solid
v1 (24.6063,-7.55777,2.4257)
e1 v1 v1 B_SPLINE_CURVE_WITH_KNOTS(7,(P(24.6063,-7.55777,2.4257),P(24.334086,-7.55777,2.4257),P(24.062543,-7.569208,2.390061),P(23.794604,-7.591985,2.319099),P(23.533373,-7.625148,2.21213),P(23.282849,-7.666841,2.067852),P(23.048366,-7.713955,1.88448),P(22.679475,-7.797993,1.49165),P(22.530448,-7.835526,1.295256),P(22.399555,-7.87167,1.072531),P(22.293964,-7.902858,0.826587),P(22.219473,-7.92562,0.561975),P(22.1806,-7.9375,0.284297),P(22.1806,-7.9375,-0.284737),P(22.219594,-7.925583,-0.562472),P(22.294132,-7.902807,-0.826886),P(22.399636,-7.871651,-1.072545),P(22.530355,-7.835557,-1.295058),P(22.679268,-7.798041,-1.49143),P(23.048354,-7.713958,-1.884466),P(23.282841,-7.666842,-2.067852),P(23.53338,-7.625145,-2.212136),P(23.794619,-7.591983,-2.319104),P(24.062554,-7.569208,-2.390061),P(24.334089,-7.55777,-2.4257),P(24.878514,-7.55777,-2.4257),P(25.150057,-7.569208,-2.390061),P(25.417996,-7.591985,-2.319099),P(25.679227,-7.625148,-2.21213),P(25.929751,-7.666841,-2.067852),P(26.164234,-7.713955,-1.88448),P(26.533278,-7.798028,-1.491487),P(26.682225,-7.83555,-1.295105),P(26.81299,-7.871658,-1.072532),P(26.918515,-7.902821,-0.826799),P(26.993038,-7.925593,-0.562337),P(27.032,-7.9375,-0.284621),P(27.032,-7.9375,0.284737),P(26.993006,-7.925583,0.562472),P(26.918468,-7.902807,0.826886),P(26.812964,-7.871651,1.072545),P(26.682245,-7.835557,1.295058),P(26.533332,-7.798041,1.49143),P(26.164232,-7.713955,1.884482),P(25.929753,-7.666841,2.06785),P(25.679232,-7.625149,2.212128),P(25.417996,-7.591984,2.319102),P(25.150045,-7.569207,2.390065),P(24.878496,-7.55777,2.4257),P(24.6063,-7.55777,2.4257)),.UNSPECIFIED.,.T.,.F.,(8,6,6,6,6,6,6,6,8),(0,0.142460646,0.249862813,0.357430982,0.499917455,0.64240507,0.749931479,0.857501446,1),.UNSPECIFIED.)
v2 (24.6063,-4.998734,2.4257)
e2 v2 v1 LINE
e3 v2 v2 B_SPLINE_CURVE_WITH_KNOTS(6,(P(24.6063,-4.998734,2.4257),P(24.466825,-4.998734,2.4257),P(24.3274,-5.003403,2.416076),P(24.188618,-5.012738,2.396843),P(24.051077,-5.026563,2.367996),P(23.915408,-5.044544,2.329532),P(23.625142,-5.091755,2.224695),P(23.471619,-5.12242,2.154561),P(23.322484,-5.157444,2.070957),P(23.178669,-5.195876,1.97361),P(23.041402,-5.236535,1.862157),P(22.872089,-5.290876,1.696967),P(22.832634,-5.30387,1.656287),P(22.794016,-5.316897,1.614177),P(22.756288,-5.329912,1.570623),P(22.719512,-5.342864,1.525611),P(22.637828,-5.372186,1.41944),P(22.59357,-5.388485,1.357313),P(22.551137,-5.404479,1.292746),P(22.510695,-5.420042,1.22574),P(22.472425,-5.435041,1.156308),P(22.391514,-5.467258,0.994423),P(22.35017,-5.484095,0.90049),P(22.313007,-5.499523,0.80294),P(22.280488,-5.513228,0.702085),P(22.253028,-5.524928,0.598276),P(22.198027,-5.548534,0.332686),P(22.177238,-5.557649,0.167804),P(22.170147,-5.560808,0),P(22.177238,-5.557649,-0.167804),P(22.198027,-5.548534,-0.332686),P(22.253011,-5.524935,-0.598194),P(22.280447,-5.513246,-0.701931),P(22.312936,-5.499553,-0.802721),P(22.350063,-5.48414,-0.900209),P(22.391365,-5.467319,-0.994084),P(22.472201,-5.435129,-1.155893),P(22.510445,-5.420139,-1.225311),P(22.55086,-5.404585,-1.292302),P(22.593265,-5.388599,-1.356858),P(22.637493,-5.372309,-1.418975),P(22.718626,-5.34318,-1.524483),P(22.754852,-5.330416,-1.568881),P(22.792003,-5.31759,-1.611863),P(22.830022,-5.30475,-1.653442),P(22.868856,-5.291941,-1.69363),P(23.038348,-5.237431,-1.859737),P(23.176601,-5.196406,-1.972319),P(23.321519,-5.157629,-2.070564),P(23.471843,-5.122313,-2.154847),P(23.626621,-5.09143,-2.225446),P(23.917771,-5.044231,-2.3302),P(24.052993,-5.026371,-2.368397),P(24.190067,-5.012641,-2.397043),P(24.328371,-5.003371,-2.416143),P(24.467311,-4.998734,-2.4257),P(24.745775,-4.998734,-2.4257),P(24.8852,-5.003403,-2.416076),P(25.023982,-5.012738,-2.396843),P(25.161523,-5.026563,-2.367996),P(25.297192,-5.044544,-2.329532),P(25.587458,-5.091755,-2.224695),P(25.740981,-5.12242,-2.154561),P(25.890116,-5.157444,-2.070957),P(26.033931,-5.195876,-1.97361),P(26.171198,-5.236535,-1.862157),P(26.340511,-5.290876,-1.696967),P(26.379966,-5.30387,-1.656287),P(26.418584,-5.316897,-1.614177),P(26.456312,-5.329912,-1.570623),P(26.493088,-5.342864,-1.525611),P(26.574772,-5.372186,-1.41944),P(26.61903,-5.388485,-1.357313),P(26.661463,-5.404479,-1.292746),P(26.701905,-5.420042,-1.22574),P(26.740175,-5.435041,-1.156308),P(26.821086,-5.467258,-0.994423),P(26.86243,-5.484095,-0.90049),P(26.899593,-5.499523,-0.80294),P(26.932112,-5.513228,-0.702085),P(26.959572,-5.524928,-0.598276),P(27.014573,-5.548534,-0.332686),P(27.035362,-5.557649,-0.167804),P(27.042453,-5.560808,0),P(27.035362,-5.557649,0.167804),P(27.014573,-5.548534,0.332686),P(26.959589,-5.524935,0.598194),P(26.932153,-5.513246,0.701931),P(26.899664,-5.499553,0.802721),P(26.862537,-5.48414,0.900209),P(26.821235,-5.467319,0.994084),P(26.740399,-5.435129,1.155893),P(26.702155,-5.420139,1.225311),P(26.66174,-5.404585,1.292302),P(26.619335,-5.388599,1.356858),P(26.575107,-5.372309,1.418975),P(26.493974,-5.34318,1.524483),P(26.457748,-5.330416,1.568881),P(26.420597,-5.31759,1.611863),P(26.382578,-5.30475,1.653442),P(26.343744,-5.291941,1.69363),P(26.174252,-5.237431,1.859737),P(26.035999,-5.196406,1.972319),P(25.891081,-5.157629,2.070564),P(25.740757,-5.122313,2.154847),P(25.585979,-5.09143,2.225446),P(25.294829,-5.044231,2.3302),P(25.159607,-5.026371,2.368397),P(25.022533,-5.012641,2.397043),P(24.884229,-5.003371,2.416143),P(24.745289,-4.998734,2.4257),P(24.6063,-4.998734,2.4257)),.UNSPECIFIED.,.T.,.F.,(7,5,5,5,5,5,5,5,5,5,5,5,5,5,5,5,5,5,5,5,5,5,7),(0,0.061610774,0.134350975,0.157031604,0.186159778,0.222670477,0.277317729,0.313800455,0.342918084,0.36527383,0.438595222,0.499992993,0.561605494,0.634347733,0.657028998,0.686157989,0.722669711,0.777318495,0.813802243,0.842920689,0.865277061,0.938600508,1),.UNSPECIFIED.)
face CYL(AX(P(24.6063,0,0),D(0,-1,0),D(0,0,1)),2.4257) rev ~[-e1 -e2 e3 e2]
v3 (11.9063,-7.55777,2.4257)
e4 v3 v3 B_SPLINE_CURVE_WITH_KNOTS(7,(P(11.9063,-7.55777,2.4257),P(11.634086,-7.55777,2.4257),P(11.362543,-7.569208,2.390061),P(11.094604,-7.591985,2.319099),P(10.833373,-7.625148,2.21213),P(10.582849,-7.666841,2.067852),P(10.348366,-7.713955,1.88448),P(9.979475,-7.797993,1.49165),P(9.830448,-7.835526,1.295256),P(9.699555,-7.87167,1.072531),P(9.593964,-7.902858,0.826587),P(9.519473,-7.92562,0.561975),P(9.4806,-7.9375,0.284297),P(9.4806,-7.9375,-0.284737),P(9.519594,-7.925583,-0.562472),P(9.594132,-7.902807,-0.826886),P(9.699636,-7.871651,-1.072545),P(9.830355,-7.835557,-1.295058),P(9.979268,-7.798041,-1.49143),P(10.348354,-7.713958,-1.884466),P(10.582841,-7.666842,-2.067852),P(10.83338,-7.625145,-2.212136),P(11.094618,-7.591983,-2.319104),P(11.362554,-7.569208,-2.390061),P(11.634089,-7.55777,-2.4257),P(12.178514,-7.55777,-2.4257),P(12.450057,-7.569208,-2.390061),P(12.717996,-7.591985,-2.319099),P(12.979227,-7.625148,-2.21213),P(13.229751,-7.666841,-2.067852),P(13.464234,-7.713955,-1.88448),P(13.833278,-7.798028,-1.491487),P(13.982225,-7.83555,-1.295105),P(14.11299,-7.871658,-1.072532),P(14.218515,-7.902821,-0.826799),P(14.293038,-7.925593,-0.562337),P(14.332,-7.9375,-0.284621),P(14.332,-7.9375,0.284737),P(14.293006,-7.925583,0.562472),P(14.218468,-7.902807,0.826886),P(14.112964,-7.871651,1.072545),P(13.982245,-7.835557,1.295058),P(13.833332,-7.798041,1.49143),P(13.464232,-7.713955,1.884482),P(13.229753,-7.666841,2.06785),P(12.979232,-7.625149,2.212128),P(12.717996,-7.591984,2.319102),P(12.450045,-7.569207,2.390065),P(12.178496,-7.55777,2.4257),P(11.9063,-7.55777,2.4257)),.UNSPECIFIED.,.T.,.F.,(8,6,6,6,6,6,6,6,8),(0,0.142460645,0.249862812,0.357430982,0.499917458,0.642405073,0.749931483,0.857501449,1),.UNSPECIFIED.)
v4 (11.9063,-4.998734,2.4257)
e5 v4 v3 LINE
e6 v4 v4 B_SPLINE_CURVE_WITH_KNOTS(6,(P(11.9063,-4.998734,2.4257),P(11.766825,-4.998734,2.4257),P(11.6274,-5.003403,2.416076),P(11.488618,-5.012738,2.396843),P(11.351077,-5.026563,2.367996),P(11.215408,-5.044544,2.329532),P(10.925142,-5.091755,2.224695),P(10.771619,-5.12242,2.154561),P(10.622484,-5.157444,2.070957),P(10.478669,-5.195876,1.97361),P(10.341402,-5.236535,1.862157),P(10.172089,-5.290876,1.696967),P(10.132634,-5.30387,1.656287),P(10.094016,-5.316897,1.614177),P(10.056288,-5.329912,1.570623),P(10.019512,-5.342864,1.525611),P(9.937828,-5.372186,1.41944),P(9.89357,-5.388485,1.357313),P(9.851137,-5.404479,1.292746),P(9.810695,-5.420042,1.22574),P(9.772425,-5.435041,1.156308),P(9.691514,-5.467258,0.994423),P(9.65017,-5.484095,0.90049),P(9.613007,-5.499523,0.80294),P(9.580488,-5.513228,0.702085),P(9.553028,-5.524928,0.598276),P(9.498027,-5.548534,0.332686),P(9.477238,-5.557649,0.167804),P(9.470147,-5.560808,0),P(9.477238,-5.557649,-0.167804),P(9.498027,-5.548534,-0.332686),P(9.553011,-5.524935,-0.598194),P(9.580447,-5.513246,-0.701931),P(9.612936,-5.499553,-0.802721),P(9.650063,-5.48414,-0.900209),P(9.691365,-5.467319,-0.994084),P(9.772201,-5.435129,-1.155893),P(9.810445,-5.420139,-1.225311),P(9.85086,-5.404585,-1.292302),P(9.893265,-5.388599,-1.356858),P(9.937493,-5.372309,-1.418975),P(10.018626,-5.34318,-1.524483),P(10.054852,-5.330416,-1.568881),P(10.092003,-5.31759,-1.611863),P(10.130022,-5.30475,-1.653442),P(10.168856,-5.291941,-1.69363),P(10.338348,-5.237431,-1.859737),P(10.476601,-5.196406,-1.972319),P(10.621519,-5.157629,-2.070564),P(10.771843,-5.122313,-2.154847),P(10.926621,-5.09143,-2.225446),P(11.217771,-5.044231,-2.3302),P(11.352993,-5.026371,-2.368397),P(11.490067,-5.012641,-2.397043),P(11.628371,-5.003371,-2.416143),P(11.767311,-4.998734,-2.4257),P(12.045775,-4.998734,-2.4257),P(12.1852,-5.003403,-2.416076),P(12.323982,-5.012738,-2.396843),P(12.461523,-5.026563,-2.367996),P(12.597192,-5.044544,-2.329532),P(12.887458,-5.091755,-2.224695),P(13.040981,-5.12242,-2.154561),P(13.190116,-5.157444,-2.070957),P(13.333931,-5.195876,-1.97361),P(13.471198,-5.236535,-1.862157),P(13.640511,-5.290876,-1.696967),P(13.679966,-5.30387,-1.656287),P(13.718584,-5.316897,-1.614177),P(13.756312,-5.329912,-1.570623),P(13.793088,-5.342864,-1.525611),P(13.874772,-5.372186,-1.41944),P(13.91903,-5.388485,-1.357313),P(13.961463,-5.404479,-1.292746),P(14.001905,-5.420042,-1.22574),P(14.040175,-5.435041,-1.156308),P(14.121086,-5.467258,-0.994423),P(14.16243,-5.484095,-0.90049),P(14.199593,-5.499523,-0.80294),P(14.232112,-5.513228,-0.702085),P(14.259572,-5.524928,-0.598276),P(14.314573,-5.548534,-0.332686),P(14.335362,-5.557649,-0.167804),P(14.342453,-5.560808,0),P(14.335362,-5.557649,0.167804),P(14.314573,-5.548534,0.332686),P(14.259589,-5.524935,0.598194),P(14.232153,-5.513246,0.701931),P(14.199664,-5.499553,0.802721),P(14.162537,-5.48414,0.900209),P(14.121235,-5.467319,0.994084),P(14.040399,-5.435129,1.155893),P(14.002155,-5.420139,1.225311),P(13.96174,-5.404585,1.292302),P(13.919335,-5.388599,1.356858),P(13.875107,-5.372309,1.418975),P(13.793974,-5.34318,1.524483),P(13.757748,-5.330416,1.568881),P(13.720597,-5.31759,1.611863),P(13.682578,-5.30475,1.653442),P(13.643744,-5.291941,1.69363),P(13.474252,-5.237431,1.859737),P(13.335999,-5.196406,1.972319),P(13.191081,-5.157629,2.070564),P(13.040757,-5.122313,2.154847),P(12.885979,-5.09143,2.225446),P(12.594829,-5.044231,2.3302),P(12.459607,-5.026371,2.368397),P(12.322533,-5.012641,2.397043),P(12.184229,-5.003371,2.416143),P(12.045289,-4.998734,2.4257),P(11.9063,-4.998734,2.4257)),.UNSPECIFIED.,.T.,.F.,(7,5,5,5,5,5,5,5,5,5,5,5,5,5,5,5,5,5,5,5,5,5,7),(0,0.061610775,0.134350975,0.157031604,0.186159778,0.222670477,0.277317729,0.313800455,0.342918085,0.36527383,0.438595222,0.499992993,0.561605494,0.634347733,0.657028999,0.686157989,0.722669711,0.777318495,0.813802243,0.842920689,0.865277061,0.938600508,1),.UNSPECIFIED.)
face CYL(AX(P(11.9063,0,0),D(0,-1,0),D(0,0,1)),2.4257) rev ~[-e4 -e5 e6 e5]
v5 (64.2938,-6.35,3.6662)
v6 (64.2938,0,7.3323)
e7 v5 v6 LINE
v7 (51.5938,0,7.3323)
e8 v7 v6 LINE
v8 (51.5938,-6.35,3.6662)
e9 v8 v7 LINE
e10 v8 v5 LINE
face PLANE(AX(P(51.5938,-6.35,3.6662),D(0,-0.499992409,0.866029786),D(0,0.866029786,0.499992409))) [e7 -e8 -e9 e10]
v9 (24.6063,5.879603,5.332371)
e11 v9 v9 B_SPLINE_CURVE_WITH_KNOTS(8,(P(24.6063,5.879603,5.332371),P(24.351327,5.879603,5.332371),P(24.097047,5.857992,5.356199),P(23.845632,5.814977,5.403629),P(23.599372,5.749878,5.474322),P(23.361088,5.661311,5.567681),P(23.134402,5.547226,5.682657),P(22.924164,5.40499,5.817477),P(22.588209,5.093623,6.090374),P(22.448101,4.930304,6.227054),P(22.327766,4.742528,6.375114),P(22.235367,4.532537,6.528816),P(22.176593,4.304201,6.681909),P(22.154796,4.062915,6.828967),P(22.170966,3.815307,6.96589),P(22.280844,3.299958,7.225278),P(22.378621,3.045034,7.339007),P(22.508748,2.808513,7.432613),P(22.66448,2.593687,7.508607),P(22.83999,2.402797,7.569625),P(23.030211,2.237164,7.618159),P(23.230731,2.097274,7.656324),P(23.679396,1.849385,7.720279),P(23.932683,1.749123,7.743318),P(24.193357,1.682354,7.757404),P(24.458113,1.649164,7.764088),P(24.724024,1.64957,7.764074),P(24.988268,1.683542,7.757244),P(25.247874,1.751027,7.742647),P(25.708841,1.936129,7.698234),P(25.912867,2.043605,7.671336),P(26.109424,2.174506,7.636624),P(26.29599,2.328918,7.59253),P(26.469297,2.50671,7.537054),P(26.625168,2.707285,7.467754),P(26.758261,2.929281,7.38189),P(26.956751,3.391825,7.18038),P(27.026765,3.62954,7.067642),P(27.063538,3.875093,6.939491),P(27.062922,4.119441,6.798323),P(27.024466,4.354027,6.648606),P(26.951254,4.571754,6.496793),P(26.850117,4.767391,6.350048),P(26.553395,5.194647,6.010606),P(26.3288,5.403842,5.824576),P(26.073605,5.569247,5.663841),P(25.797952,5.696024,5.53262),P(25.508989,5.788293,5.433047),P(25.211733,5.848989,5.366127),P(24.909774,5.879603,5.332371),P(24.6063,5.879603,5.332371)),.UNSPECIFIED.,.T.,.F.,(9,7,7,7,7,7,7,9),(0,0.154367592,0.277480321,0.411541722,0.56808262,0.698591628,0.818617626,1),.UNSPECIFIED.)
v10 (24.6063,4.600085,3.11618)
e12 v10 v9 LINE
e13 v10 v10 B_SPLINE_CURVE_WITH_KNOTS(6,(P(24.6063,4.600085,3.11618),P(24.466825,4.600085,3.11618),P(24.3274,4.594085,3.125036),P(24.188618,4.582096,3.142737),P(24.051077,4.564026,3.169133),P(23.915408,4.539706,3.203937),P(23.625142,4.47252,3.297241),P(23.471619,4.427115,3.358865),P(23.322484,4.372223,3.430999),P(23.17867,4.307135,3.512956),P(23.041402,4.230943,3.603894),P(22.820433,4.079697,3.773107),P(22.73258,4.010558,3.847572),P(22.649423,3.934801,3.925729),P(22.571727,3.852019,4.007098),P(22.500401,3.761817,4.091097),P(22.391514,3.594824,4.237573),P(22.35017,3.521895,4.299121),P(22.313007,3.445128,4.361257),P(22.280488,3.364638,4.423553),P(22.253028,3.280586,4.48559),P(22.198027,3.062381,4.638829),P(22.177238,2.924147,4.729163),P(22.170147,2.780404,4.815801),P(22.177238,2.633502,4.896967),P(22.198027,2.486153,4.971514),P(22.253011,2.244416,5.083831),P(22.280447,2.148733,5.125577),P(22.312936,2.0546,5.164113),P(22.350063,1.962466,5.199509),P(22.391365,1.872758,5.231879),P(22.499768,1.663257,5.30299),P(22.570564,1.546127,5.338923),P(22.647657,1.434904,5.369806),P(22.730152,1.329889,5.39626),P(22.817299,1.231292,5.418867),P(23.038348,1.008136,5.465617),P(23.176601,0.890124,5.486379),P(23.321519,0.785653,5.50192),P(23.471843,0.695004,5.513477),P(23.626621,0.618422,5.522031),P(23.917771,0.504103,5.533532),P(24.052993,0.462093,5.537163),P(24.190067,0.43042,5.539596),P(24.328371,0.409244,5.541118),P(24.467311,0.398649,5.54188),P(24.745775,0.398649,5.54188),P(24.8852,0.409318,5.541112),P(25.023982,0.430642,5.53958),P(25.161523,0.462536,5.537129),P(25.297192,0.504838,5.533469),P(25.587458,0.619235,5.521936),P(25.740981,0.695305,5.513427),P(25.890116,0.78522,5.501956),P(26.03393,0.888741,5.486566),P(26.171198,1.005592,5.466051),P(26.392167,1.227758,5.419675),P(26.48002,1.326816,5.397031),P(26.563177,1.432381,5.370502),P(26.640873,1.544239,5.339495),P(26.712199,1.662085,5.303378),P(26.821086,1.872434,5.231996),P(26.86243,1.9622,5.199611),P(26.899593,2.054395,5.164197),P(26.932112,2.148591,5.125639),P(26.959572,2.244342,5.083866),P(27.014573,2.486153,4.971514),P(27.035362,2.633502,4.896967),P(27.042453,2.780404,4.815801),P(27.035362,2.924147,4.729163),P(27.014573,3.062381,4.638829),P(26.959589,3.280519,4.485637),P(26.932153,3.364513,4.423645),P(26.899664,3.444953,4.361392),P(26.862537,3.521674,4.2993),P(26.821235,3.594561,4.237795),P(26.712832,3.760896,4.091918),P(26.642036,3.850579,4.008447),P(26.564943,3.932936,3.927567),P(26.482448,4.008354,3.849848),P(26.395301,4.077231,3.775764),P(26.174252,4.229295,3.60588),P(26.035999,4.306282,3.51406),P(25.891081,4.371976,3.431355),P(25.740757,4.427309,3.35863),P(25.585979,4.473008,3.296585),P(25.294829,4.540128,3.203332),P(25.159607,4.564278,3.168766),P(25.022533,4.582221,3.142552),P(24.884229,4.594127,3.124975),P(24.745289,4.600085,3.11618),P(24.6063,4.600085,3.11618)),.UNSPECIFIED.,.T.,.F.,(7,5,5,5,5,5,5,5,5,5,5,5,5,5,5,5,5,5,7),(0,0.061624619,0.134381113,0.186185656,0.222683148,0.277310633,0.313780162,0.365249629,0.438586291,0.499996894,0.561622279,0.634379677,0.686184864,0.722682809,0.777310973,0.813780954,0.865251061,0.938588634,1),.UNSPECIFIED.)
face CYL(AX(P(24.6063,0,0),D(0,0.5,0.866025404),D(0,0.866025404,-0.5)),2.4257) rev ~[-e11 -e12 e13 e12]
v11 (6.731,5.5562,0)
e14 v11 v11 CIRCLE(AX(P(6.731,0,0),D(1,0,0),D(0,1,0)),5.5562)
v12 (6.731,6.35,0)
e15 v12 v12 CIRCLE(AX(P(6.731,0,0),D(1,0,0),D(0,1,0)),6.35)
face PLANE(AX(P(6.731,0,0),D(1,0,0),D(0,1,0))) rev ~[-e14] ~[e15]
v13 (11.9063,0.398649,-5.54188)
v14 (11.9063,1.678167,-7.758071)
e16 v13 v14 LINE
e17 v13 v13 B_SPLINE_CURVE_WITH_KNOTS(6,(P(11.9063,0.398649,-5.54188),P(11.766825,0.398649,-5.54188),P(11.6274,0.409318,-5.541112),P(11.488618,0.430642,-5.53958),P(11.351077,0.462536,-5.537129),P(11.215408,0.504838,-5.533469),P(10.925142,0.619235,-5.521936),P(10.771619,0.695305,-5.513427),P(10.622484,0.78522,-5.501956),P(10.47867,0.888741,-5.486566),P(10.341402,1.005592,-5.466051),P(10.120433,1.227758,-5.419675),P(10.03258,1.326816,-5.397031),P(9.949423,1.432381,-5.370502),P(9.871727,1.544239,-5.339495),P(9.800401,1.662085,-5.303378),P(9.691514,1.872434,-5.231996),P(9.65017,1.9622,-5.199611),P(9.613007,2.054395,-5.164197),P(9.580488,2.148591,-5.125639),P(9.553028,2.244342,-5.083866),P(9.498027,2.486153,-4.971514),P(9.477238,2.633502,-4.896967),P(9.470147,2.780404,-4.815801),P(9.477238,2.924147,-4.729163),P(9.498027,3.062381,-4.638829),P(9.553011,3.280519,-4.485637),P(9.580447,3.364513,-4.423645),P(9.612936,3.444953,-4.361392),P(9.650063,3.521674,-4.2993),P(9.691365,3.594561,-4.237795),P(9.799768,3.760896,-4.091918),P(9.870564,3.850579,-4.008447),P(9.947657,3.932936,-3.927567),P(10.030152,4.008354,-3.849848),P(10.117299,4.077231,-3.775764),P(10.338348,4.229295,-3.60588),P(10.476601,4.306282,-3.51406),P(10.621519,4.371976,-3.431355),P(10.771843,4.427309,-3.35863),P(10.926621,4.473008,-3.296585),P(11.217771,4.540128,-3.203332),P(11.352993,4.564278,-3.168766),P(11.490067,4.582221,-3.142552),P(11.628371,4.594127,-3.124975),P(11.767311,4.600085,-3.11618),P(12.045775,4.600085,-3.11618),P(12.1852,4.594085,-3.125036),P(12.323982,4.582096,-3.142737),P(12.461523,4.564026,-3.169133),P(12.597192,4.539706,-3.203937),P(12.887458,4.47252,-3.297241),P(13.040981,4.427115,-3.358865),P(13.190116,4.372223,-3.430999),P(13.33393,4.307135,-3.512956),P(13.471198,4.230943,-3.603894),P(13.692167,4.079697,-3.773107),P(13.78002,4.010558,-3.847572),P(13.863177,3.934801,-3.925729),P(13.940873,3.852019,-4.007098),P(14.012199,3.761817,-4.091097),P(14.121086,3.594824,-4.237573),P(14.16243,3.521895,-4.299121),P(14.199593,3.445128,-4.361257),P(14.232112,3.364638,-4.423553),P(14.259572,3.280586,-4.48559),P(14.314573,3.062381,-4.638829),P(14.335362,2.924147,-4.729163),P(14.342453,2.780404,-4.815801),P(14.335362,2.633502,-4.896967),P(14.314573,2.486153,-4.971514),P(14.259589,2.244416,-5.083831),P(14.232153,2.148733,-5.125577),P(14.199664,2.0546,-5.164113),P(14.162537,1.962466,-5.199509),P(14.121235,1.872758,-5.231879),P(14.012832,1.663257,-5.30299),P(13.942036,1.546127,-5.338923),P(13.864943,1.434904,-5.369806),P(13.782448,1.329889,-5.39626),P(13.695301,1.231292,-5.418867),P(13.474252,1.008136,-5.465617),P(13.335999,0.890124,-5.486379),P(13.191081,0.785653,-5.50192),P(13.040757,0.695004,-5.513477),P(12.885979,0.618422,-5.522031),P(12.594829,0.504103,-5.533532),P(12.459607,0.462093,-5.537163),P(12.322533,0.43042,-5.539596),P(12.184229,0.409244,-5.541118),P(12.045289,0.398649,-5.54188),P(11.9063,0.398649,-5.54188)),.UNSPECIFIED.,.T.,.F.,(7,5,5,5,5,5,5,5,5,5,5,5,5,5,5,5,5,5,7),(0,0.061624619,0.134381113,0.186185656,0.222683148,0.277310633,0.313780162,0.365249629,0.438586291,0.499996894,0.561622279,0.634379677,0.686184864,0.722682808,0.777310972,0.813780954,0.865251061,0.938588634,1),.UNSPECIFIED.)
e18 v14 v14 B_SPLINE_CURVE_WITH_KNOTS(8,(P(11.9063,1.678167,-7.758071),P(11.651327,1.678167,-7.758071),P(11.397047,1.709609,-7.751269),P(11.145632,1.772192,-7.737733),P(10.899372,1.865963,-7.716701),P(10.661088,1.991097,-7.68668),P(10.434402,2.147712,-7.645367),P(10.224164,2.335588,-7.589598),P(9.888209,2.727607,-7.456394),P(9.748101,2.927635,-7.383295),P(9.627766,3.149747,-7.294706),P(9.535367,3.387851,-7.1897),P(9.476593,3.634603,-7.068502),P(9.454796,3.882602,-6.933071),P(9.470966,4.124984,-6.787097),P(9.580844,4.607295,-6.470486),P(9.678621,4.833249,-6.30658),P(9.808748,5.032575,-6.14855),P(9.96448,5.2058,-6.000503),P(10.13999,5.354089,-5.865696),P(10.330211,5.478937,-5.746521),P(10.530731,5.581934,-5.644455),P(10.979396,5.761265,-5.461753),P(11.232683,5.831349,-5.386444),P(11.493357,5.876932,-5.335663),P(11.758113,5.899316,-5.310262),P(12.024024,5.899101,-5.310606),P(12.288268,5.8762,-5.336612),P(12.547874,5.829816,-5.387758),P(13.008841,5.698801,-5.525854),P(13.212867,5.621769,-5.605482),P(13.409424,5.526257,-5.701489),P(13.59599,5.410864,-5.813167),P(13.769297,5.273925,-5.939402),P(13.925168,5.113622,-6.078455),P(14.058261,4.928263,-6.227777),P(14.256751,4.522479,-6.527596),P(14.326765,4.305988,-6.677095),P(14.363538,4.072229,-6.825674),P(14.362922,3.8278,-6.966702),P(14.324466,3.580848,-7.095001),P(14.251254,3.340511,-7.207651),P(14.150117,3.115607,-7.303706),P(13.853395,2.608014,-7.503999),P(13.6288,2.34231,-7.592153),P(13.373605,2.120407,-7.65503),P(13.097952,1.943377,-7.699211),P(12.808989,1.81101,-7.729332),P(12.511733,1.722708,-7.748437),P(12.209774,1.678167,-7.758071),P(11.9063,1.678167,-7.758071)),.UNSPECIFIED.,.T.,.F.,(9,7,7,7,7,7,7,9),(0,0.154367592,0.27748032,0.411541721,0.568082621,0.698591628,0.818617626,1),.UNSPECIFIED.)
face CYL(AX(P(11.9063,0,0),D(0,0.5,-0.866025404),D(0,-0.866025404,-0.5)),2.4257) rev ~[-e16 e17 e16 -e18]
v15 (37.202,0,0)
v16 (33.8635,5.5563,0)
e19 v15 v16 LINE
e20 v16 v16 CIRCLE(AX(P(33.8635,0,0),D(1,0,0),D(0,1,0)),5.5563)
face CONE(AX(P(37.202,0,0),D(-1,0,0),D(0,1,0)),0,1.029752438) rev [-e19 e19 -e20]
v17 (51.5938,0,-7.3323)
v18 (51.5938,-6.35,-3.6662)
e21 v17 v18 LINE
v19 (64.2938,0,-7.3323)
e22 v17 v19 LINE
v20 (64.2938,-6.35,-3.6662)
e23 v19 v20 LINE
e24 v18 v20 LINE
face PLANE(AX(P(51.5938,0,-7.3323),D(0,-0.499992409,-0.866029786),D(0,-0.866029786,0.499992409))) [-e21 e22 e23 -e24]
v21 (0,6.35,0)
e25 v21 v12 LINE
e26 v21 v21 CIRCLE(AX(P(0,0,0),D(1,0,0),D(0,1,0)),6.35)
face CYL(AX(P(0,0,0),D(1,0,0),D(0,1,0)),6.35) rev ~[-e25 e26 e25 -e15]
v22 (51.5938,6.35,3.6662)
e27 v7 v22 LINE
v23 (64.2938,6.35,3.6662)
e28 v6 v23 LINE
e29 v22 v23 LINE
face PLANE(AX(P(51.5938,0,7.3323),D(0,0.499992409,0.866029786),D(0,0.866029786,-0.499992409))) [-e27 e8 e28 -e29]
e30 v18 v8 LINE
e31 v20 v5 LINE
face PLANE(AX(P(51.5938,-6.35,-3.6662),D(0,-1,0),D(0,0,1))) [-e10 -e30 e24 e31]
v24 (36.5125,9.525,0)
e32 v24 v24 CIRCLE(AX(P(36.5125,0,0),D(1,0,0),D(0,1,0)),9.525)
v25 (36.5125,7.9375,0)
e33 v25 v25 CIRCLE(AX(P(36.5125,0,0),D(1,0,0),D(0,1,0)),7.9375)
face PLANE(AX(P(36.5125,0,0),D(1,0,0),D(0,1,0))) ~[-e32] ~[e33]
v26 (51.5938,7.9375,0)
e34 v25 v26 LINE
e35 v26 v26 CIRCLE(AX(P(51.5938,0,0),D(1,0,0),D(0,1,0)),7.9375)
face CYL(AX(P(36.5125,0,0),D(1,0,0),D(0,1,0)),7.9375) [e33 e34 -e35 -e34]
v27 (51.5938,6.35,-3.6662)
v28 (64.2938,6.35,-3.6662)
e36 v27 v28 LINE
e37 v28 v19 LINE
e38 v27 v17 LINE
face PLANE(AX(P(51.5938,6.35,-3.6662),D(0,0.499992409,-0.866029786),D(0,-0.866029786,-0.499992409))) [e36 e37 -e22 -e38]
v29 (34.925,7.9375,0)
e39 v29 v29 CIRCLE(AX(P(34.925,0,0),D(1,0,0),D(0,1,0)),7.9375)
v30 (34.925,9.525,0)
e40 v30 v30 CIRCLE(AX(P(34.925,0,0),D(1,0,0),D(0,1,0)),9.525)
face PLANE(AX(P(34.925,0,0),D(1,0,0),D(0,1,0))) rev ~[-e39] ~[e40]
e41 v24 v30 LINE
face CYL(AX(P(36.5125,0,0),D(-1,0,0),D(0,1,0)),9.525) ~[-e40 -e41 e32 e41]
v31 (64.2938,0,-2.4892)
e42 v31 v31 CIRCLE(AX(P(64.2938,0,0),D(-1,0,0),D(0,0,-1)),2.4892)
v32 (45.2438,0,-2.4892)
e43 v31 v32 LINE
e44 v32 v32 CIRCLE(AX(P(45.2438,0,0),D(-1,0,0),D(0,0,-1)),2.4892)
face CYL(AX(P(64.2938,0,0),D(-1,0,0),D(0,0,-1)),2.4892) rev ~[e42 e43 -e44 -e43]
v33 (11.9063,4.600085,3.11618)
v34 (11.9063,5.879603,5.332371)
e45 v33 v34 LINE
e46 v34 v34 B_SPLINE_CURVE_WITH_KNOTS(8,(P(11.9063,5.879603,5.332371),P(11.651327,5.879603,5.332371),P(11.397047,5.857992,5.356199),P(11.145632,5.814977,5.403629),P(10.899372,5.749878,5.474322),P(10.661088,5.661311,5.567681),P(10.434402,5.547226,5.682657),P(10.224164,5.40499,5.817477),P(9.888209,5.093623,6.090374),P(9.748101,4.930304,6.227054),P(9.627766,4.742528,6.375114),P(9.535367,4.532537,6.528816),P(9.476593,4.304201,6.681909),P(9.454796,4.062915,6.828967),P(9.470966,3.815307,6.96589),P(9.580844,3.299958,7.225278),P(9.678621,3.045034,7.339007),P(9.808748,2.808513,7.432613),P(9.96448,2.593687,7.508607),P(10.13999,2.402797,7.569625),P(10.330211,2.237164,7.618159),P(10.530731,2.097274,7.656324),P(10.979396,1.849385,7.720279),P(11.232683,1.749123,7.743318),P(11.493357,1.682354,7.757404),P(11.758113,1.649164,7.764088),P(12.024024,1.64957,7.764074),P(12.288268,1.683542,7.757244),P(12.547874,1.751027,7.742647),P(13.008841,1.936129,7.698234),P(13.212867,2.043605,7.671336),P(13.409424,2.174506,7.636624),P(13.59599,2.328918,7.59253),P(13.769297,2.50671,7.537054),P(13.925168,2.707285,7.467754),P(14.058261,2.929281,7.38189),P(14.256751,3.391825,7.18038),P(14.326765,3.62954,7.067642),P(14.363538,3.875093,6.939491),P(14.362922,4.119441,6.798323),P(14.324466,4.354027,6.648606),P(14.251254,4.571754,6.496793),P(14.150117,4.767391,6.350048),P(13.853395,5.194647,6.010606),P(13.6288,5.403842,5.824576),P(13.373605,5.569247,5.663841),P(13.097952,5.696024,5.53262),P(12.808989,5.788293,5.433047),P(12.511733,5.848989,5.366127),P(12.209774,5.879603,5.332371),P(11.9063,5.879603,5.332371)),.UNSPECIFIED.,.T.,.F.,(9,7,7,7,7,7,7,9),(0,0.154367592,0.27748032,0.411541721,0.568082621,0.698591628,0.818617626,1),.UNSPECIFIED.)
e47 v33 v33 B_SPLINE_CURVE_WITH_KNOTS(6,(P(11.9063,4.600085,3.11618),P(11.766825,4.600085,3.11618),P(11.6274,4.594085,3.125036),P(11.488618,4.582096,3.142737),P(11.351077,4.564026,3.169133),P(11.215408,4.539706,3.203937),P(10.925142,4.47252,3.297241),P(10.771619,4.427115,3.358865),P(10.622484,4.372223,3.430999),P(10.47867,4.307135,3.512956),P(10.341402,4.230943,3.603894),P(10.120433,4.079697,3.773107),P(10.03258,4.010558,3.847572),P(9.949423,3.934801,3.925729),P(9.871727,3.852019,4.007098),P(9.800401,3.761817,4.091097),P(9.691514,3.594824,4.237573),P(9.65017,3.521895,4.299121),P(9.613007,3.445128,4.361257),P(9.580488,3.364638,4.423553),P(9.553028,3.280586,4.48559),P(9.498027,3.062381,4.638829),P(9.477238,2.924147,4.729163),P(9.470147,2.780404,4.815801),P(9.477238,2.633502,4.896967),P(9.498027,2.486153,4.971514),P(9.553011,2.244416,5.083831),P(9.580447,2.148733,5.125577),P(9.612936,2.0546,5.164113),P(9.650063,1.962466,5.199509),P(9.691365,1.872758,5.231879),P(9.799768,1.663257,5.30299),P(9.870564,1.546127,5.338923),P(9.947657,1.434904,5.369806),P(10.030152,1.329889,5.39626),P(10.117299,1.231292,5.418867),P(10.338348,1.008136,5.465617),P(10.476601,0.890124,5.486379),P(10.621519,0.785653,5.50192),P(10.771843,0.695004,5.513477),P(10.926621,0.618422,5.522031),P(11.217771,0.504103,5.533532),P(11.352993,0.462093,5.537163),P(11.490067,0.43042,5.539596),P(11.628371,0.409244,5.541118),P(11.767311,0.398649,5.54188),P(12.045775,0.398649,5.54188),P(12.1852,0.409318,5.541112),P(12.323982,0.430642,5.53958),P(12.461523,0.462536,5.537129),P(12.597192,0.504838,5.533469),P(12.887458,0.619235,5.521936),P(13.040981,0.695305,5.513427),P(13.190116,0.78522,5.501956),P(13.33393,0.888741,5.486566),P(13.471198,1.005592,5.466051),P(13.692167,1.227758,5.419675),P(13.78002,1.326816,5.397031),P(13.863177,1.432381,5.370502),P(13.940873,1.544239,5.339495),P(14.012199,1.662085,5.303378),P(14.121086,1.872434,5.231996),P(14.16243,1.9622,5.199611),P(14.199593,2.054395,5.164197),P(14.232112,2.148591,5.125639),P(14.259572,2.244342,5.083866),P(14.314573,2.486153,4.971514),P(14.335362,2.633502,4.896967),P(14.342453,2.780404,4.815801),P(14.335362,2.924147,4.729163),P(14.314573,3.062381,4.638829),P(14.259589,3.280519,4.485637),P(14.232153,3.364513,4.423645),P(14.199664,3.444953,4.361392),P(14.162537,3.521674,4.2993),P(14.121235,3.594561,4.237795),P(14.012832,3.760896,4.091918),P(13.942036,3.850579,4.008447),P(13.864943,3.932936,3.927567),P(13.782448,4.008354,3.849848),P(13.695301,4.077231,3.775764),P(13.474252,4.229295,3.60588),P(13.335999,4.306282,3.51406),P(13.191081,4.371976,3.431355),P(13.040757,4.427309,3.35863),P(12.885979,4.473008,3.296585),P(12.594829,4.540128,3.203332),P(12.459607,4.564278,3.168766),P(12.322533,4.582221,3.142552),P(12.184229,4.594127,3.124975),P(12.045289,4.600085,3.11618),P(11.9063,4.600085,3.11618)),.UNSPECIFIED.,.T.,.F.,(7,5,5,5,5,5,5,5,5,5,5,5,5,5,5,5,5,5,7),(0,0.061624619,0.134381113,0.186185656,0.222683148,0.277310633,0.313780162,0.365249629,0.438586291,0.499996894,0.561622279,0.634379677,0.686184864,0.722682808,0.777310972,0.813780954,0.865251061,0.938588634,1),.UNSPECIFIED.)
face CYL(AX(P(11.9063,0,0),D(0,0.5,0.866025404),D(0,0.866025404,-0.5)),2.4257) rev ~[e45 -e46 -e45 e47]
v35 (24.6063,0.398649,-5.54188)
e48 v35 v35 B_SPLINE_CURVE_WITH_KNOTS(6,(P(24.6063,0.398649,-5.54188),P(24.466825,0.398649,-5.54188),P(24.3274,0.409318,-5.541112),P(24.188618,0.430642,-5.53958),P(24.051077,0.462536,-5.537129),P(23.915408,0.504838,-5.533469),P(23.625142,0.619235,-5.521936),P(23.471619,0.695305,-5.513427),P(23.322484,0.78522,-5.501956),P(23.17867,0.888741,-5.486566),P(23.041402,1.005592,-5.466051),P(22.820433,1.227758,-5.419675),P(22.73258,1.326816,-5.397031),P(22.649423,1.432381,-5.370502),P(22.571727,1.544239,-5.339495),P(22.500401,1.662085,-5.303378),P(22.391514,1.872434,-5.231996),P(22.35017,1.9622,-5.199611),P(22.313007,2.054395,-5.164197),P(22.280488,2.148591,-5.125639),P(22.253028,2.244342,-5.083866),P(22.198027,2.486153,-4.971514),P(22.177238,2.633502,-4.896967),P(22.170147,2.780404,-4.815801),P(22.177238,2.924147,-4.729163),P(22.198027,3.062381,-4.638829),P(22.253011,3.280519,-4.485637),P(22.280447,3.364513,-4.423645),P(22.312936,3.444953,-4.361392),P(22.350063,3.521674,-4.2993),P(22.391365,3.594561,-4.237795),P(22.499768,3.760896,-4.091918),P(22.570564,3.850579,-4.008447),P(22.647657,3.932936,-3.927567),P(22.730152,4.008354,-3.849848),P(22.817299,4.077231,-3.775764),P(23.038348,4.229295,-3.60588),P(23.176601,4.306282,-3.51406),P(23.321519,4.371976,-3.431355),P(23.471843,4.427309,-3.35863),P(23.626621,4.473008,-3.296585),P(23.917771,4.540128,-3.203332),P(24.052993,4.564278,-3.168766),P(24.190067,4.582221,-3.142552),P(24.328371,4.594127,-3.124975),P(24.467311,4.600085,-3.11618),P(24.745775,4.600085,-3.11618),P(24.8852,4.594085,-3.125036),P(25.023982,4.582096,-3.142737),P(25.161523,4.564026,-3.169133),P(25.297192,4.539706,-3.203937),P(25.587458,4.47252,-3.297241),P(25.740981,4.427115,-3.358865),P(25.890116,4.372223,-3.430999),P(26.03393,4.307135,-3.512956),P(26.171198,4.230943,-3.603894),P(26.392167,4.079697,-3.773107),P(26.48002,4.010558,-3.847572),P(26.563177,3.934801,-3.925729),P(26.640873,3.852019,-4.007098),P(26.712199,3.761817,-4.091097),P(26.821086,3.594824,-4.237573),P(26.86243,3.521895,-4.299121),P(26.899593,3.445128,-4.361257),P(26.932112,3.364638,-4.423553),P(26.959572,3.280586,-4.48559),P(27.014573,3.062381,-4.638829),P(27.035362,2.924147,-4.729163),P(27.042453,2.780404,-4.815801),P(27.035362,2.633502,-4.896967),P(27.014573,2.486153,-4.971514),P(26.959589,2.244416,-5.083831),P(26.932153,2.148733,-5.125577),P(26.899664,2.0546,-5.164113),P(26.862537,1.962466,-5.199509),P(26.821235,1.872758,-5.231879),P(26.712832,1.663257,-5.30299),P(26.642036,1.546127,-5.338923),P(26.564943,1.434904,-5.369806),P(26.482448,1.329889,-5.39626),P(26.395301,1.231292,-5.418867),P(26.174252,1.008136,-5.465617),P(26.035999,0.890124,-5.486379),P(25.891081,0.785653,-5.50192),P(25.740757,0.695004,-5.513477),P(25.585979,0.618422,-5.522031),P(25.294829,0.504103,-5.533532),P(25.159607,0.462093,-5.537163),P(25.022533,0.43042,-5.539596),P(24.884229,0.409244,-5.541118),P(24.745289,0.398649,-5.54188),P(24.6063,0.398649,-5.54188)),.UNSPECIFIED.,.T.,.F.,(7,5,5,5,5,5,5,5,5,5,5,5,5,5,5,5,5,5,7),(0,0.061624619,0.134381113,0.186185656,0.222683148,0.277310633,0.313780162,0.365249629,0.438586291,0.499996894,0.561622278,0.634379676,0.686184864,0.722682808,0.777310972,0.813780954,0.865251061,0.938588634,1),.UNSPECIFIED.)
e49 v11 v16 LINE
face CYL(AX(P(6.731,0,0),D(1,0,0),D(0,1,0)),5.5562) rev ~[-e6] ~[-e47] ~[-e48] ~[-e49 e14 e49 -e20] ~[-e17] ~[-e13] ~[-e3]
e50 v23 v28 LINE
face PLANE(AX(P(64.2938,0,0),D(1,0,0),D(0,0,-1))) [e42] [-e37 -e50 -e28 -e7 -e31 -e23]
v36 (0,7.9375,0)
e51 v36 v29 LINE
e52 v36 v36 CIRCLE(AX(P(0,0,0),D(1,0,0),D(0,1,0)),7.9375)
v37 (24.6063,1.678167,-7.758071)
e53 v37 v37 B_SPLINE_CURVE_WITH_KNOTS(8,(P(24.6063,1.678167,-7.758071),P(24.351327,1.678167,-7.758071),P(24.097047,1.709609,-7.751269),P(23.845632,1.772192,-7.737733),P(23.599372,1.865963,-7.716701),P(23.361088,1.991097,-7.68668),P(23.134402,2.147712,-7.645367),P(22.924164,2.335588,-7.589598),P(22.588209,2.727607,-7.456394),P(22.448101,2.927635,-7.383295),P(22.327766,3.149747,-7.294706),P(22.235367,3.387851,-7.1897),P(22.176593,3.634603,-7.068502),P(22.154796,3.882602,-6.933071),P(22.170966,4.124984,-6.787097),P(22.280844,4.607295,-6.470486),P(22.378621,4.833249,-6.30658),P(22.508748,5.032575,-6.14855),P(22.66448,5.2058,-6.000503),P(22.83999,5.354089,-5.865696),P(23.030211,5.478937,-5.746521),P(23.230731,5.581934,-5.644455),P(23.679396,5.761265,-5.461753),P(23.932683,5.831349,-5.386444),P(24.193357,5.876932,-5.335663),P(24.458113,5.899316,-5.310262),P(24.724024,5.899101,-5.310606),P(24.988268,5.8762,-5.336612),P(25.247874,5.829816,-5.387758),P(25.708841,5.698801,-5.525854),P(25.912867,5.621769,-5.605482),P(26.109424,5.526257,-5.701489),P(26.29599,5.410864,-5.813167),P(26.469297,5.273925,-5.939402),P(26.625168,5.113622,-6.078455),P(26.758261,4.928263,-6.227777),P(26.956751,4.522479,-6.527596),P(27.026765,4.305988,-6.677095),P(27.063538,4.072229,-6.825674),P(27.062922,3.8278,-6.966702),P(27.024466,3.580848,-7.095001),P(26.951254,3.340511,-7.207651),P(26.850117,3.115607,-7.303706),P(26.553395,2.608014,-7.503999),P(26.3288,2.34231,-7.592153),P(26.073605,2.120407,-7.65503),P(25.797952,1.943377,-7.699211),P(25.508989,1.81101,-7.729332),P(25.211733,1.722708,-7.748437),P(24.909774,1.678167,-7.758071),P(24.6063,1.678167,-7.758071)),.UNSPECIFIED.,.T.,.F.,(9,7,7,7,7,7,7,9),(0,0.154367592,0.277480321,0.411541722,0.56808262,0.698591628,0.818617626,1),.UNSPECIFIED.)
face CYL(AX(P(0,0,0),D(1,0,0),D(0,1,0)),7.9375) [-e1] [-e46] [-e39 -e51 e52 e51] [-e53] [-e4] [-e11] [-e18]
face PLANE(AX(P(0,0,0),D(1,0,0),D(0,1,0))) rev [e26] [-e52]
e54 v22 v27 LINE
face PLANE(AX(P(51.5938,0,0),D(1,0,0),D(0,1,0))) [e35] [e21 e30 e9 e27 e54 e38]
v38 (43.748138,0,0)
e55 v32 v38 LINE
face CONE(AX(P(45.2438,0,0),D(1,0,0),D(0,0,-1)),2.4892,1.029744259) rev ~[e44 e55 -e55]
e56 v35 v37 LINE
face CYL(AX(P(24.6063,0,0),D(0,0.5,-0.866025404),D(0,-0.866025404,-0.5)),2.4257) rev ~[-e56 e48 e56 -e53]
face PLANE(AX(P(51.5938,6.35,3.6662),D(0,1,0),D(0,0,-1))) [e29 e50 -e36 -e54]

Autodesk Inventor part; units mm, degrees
ref_plane "YZ Plane" through (0, 0, 0) normal (1, 0, 0) x (0, 1, 0)
ref_plane "XZ Plane" through (0, 0, 0) normal (0, 1, 0) x (-1, 0, 0)
ref_plane "XY Plane" through (0, 0, 0) normal (0, 0, 1) x (1, 0, 0)
sketch "Sketch1" plane through (0, 0, 0) normal (0, 0, 1) x (1, 0, 0)
  line L0 (0, 0) -> (8.7313, 0) construction
  line L1 (0, 0) -> (0, 6.35) construction
  line L2 (0, 7.9375) -> (8.7312, 7.9375)
  line L3 (8.7312, 7.9375) -> (8.7313, 0) construction
  line L4 (8.7312, 7.9375) -> (34.925, 7.9375)
  line L5 (8.7312, 7.9375) -> (8.7312, 14.2875) construction
  line L6 (8.7312, 14.2875) -> (9.525, 14.2875) construction
  line L7 (9.525, 14.2875) -> (9.525, 0) construction
  line L8 (9.525, 0) -> (8.7313, 0) construction
  line L9 (9.525, 0) -> (19.05, 0) construction
  line L10 (19.05, 0) -> (19.05, 26.67) construction
  line L11 (19.05, 26.67) -> (9.525, 26.67) construction
  line L12 (9.525, 26.67) -> (9.525, 14.2875) construction
  line L13 (14.2875, 0) -> (14.2875, 26.67) construction
  line L14 (14.2875, 17.4625) -> (21.4312, 17.4625) construction
  line L15 (21.4312, 17.4625) -> (21.4313, 0) construction
  line L16 (21.4313, 0) -> (19.05, 0) construction
  line L17 (21.4313, 0) -> (22.225, 0) construction
  line L18 (22.225, 0) -> (22.225, 14.2875) construction
  line L19 (22.225, 14.2875) -> (21.4313, 14.2875) construction
  line L20 (21.4313, 14.2875) -> (21.4313, 0) construction
  line L21 (22.225, 0) -> (31.75, 0) construction
  line L22 (31.75, 0) -> (31.75, 20.32) construction
  line L23 (31.75, 20.32) -> (22.225, 20.32) construction
  line L24 (22.225, 20.32) -> (22.225, 0) construction
  line L25 (26.9875, 20.32) -> (26.9875, 0) construction
  line L26 (26.9875, 17.4625) -> (34.1313, 17.4625) construction
  line L27 (34.1313, 17.4625) -> (34.1313, 0) construction
  line L28 (34.1313, 0) -> (31.75, 0) construction
  line L29 (34.1313, 0) -> (34.925, 0) construction
  line L30 (34.925, 0) -> (34.925, 14.2875) construction
  line L31 (34.925, 14.2875) -> (34.1313, 14.2875) construction
  line L32 (34.1313, 14.2875) -> (34.1313, 0) construction
  line L33 (34.925, 0) -> (36.5125, 0) construction
  line L34 (36.5125, 0) -> (36.5125, 7.9375) construction
  line L35 (36.5125, 9.525) -> (34.925, 9.525)
  line L36 (34.925, 9.525) -> (34.925, 7.9375)
  line L37 (45.2438, 7.9375) -> (45.2438, 0) construction
  line L38 (45.2438, 0) -> (36.5125, 0)
  line L39 (11.9063, 26.67) -> (11.9063, 0) construction
  line L40 (24.6063, 20.32) -> (24.6063, 0) construction
  line L41 (0, 7.9375) -> (0, 17.4625) construction
  line L42 (0, 17.4625) -> (8.7312, 17.4625) construction
  line L43 (8.7312, 17.4625) -> (8.7312, 14.2875) construction
  line L44 (0, 3.175) -> (45.2438, 3.175) construction
  circle A0 centre (11.9063, 5.5562) radius 2.3813 construction
  circle A1 centre (24.6063, 5.5562) radius 2.3812 construction
  circle A2 centre (11.9063, 5.8103) radius 2.3813 construction
  circle A3 centre (11.9063, 7.5565) radius 2.3813 construction
  circle A4 centre (24.6063, 5.8103) radius 2.3812 construction
  circle A5 centre (24.6063, 7.5565) radius 2.3812 construction
  line L45 (9.525, 8.1915) -> (14.2875, 8.1915) construction
  line L46 (12.6386, 3.175) -> (14.6388, 5.1753) construction
  line L47 (14.6388, 5.1753) -> (21.8737, 5.1753) construction
  line L48 (21.8737, 5.1753) -> (23.8739, 3.175) construction
  line L49 (22.225, 8.1915) -> (26.9875, 8.1915) construction
  line L50 (10.3187, 5.1753) -> (17.4901, 5.1753) construction
  line L51 (26.1938, 5.1753) -> (19.0224, 5.1753) construction
  line L52 (0, 6.35) -> (6.731, 6.35)
  line L53 (6.731, 6.35) -> (6.731, 5.5562)
  line L54 (10.3187, 5.1753) -> (8.3185, 3.175) construction
  line L55 (17.4901, 5.1753) -> (19.4903, 3.175) construction
  line L56 (19.4903, 3.175) -> (26.1938, 3.175) construction
  line L57 (26.1938, 3.175) -> (28.1015, 0) construction
  line L58 (26.1938, 5.1753) -> (28.194, 3.175) construction
  line L59 (28.194, 3.175) -> (34.8974, 3.175) construction
  line L60 (34.8974, 3.175) -> (36.8052, 0) construction
  line L61 (6.731, 5.5562) -> (33.8635, 5.5563)
  line L62 (37.202, 0) -> (33.8635, 5.5563)
  line L63 (19.0224, 5.1753) -> (17.0222, 3.175) construction
  line L64 (17.0222, 3.175) -> (-3.175, 3.175) construction
  line L65 (45.2438, 7.9375) -> (45.2438, 17.4625) construction
  line L66 (45.2438, 17.4625) -> (36.5125, 17.4625) construction
  line L67 (36.5125, 17.4625) -> (36.5125, 9.525) construction
  line L68 (45.2438, 7.9375) -> (51.5938, 7.9375)
  line L69 (51.5938, 7.9375) -> (51.5938, 0)
  line L70 (51.5938, 0) -> (45.2438, 0)
  line L71 (51.5938, 6.35) -> (64.2938, 6.35) construction
  line L72 (64.2938, 6.35) -> (64.2938, 0) construction
  line L73 (64.2938, 0) -> (51.5938, 0) construction
  line L74 (-8.1534, 3.175) -> (-8.1534, 2.3812) construction
  line L75 (-8.1534, 0) -> (36.8052, 0) construction
  line L76 (-3.175, 3.175) -> (-3.175, 2.3812) construction
  line L77 (-3.175, 2.3812) -> (-8.1534, 2.3812) construction
  line L78 (-8.1534, 3.175) -> (-8.1534, 6.35) construction
  line L79 (-8.1534, 6.35) -> (-3.175, 6.35) construction
  line L80 (-3.175, 6.35) -> (-3.175, 3.175) construction
  line L81 (-3.175, 0) -> (-3.175, 2.3812) construction
  line L82 (-0.7937, 0) -> (-0.7938, 11.1125) construction
  line L83 (-0.7938, 11.1125) -> (-3.175, 11.1125) construction
  line L84 (-3.175, 11.1125) -> (-3.175, 6.35) construction
  line L85 (-3.175, 3.175) -> (-8.1534, 3.175) construction
  line L86 (-8.1534, 2.3812) -> (-8.1534, 0) construction
  line L87 (-8.1534, 2.7051) -> (-9.652, 2.7051) construction
  line L88 (-9.652, 2.7051) -> (-9.652, 0) construction
  line L89 (-9.652, 0) -> (-8.1534, 0) construction
  line L90 (-8.1534, 1.4224) -> (-5.6134, 1.4224) construction
  line L91 (-5.6134, 1.4224) -> (-5.6134, 0) construction
  line L92 (-5.6134, 1.4224) -> (-3.0734, 1.4224) construction
  line L93 (-3.0734, 1.4224) -> (-3.0734, 0) construction
  line L94 (-3.175, 11.1125) -> (-13.4938, 11.1125) construction
  line L95 (-13.4938, 11.1125) -> (-13.4937, 5.9531) construction
  line L96 (-13.4937, 5.9531) -> (-18.5801, 5.9531) construction
  line L97 (-18.5801, 5.9531) -> (-18.5801, 0) construction
  line L98 (-18.5801, 0) -> (-9.652, 0) construction
  line L99 (-8.1534, 3.9687) -> (-14.6113, 3.9687) construction
  line L100 (-14.6113, 3.9687) -> (-14.6113, 0) construction
  line L101 (-14.6113, 3.429) -> (-10.4457, 3.429) construction
  line L102 (-10.4457, 3.429) -> (-10.4457, 0) construction
  line L103 (-16.9926, 3.175) -> (-16.9926, 0) construction
  line L104 (-16.9926, 3.175) -> (-18.5801, 3.175) construction
  line L105 (0, 6.35) -> (0, 7.9375)
  line L106 (6.731, 5.5562) -> (6.731, 0) construction
  line L107 (33.8635, 5.5563) -> (45.2438, 5.5563) construction
  line L108 (34.925, 7.9375) -> (34.925, 0) construction
  line L109 (36.5125, 7.9375) -> (36.5125, 9.525)
  line L110 (36.5125, 7.9375) -> (45.2438, 7.9375)
  line L111 (34.925, 7.9375) -> (36.5125, 7.9375) construction
  dimension "d1" = 7.9375
  dimension "d2" = 0.7937
  dimension "d3" = 14.2875
  dimension "d4" = 9.525
  dimension "d5" = 26.67
  dimension "d6" = 7.1437
  dimension "d7" = 17.4625
  dimension "d8" = 0.7937
  dimension "d9" = 14.2875
  dimension "d10" = 9.525
  dimension "d11" = 20.32
  dimension "d12" = 7.1437
  dimension "d13" = 17.4625
  dimension "d14" = 0.7937
  dimension "d15" = 14.2875
  dimension "d16" = 1.5875
  dimension "d17" = 9.525
  dimension "d18" = 8.7312
  dimension "d19" = 2.3813
  dimension "d20" = 2.3813
  dimension "d21" = 17.4625
  dimension "d22" = 3.175
  dimension "d23" = 4.7625
  dimension "d24" = 4.7625
  dimension "d26" = 0.254
  dimension "d28" = 45
  dimension "d29" = 45
  dimension "d30" = 0.254
  dimension "d31" = 7.2348
  dimension "d32" = 5.1753
  dimension "d33" = 7.1713
  dimension "d34" = 1.5875
  dimension "d35" = 7.1713
  dimension "d36" = 1.5875
  dimension "d37" = 6.35
  dimension "d39" = 45
  dimension "d40" = 45
  dimension "d41" = 1.5875
  dimension "d42" = 59
  dimension "d43" = 6.7034
  dimension "d44" = 6.7034
  dimension "d46" = 0.3969
  dimension "d52" = 17.4625
  dimension "d53" = 6.35
  dimension "d54" = 12.7
  dimension "d55" = 6.35
  dimension "d56" = 2.3813
  dimension "d57" = 4.9784
  dimension "d58" = 6.35
  dimension "d66" = 2.3813
  dimension "d67" = 0.7937
  dimension "d68" = 11.1125
  dimension "d69" = 2.7051
  dimension "d70" = 1.4986
  dimension "d71" = 1.4224
  dimension "d72" = 2.54
  dimension "d73" = 2.54
  dimension "d74" = 3.9688
  dimension "d75" = 4.1656
  dimension "d76" = 3.429
  dimension "d77" = 0.7937
  dimension "d78" = 3.175
  dimension "d79" = 2.3813
  dimension "d80" = 1.5875
revolve "Revolution1" add sketch "Sketch1" angle 360 about axis through (9.525, 0, 0) along (1, 0, 0)
sketch "Sketch2" plane through (51.5938, 0, 0) normal (1, 0, 0) x (0, 0, -1)
  circle A0 centre (0, 0) radius 7.9375 projected
  line L0 (-7.3323, 0) -> (-3.6662, 6.35)
  line L1 (-3.6662, 6.35) -> (3.6662, 6.35)
  line L2 (3.6662, 6.35) -> (7.3323, 0)
  line L3 (7.3323, 0) -> (3.6662, -6.35)
  line L4 (3.6662, -6.35) -> (-3.6662, -6.35)
  line L5 (-3.6662, -6.35) -> (-7.3323, 0)
  dimension "d88" = 12.7
extrude "Extrusion1" add sketch "Sketch2" along normal blind 12.7 contours L0 L1 L2 L3 L4 L5
sketch "Sketch3" plane through (0, 0, 0) normal (0, 1, 0) x (-1, 0, 0)
  point P0 (0, 0)
  point P1 (-11.9063, 0)
  point P2 (-24.6063, 0)
hole "Hole1" at (11.9063, 0, 0) at (24.6063, 0, 0) direction (0, -1, 0) diameter 4.8514 end through all
pattern_circular "Circular Pattern1" count 3 over 360 about axis through (-10, 0, 0) along (1, 0, 0) of "Hole1"
ref_plane "Work Plane1" through (10.3187, 5.1753, 0) normal (-1, 0, 0) x (0, 0, 1)
ref_plane "Work Plane2" through (26.1938, 3.175, 0) normal (-1, 0, 0) x (0, 0, 1)
ref_plane "Work Plane3" through (17.4901, 5.1753, 0) normal (-1, 0, 0) x (0, 0, 1)
sketch "Sketch4" plane through (64.2938, 0, 0) normal (1, 0, 0) x (0, 0, -1)
  point P0 (0, 0)
  point P1 (0, 0)
hole "Hole2" at (64.2938, 0, 0) direction (-1, 0, 0) diameter 4.9784 depth 19.05 tip angle 118 thread size "1/4-20 UNC" class "2B" standard "ANSI Unified Screw Threads"
equation "\"d9\" = d3"
equation "\"d12\" = d6"
equation "\"d13\" = d7"
equation "\"d15\" = d9"
equation "\"d18\" = d0"
equation "\"d20\" = d19"
equation "\"d35\" = d33"
equation "\"d36\" = d34"
equation "\"d43\" = d44"
equation "\"d52\" = d13"
equation "\"d0\" = 8.73125"
properties part number "Ball Shifting Outline" material "Steel, Alloy"
